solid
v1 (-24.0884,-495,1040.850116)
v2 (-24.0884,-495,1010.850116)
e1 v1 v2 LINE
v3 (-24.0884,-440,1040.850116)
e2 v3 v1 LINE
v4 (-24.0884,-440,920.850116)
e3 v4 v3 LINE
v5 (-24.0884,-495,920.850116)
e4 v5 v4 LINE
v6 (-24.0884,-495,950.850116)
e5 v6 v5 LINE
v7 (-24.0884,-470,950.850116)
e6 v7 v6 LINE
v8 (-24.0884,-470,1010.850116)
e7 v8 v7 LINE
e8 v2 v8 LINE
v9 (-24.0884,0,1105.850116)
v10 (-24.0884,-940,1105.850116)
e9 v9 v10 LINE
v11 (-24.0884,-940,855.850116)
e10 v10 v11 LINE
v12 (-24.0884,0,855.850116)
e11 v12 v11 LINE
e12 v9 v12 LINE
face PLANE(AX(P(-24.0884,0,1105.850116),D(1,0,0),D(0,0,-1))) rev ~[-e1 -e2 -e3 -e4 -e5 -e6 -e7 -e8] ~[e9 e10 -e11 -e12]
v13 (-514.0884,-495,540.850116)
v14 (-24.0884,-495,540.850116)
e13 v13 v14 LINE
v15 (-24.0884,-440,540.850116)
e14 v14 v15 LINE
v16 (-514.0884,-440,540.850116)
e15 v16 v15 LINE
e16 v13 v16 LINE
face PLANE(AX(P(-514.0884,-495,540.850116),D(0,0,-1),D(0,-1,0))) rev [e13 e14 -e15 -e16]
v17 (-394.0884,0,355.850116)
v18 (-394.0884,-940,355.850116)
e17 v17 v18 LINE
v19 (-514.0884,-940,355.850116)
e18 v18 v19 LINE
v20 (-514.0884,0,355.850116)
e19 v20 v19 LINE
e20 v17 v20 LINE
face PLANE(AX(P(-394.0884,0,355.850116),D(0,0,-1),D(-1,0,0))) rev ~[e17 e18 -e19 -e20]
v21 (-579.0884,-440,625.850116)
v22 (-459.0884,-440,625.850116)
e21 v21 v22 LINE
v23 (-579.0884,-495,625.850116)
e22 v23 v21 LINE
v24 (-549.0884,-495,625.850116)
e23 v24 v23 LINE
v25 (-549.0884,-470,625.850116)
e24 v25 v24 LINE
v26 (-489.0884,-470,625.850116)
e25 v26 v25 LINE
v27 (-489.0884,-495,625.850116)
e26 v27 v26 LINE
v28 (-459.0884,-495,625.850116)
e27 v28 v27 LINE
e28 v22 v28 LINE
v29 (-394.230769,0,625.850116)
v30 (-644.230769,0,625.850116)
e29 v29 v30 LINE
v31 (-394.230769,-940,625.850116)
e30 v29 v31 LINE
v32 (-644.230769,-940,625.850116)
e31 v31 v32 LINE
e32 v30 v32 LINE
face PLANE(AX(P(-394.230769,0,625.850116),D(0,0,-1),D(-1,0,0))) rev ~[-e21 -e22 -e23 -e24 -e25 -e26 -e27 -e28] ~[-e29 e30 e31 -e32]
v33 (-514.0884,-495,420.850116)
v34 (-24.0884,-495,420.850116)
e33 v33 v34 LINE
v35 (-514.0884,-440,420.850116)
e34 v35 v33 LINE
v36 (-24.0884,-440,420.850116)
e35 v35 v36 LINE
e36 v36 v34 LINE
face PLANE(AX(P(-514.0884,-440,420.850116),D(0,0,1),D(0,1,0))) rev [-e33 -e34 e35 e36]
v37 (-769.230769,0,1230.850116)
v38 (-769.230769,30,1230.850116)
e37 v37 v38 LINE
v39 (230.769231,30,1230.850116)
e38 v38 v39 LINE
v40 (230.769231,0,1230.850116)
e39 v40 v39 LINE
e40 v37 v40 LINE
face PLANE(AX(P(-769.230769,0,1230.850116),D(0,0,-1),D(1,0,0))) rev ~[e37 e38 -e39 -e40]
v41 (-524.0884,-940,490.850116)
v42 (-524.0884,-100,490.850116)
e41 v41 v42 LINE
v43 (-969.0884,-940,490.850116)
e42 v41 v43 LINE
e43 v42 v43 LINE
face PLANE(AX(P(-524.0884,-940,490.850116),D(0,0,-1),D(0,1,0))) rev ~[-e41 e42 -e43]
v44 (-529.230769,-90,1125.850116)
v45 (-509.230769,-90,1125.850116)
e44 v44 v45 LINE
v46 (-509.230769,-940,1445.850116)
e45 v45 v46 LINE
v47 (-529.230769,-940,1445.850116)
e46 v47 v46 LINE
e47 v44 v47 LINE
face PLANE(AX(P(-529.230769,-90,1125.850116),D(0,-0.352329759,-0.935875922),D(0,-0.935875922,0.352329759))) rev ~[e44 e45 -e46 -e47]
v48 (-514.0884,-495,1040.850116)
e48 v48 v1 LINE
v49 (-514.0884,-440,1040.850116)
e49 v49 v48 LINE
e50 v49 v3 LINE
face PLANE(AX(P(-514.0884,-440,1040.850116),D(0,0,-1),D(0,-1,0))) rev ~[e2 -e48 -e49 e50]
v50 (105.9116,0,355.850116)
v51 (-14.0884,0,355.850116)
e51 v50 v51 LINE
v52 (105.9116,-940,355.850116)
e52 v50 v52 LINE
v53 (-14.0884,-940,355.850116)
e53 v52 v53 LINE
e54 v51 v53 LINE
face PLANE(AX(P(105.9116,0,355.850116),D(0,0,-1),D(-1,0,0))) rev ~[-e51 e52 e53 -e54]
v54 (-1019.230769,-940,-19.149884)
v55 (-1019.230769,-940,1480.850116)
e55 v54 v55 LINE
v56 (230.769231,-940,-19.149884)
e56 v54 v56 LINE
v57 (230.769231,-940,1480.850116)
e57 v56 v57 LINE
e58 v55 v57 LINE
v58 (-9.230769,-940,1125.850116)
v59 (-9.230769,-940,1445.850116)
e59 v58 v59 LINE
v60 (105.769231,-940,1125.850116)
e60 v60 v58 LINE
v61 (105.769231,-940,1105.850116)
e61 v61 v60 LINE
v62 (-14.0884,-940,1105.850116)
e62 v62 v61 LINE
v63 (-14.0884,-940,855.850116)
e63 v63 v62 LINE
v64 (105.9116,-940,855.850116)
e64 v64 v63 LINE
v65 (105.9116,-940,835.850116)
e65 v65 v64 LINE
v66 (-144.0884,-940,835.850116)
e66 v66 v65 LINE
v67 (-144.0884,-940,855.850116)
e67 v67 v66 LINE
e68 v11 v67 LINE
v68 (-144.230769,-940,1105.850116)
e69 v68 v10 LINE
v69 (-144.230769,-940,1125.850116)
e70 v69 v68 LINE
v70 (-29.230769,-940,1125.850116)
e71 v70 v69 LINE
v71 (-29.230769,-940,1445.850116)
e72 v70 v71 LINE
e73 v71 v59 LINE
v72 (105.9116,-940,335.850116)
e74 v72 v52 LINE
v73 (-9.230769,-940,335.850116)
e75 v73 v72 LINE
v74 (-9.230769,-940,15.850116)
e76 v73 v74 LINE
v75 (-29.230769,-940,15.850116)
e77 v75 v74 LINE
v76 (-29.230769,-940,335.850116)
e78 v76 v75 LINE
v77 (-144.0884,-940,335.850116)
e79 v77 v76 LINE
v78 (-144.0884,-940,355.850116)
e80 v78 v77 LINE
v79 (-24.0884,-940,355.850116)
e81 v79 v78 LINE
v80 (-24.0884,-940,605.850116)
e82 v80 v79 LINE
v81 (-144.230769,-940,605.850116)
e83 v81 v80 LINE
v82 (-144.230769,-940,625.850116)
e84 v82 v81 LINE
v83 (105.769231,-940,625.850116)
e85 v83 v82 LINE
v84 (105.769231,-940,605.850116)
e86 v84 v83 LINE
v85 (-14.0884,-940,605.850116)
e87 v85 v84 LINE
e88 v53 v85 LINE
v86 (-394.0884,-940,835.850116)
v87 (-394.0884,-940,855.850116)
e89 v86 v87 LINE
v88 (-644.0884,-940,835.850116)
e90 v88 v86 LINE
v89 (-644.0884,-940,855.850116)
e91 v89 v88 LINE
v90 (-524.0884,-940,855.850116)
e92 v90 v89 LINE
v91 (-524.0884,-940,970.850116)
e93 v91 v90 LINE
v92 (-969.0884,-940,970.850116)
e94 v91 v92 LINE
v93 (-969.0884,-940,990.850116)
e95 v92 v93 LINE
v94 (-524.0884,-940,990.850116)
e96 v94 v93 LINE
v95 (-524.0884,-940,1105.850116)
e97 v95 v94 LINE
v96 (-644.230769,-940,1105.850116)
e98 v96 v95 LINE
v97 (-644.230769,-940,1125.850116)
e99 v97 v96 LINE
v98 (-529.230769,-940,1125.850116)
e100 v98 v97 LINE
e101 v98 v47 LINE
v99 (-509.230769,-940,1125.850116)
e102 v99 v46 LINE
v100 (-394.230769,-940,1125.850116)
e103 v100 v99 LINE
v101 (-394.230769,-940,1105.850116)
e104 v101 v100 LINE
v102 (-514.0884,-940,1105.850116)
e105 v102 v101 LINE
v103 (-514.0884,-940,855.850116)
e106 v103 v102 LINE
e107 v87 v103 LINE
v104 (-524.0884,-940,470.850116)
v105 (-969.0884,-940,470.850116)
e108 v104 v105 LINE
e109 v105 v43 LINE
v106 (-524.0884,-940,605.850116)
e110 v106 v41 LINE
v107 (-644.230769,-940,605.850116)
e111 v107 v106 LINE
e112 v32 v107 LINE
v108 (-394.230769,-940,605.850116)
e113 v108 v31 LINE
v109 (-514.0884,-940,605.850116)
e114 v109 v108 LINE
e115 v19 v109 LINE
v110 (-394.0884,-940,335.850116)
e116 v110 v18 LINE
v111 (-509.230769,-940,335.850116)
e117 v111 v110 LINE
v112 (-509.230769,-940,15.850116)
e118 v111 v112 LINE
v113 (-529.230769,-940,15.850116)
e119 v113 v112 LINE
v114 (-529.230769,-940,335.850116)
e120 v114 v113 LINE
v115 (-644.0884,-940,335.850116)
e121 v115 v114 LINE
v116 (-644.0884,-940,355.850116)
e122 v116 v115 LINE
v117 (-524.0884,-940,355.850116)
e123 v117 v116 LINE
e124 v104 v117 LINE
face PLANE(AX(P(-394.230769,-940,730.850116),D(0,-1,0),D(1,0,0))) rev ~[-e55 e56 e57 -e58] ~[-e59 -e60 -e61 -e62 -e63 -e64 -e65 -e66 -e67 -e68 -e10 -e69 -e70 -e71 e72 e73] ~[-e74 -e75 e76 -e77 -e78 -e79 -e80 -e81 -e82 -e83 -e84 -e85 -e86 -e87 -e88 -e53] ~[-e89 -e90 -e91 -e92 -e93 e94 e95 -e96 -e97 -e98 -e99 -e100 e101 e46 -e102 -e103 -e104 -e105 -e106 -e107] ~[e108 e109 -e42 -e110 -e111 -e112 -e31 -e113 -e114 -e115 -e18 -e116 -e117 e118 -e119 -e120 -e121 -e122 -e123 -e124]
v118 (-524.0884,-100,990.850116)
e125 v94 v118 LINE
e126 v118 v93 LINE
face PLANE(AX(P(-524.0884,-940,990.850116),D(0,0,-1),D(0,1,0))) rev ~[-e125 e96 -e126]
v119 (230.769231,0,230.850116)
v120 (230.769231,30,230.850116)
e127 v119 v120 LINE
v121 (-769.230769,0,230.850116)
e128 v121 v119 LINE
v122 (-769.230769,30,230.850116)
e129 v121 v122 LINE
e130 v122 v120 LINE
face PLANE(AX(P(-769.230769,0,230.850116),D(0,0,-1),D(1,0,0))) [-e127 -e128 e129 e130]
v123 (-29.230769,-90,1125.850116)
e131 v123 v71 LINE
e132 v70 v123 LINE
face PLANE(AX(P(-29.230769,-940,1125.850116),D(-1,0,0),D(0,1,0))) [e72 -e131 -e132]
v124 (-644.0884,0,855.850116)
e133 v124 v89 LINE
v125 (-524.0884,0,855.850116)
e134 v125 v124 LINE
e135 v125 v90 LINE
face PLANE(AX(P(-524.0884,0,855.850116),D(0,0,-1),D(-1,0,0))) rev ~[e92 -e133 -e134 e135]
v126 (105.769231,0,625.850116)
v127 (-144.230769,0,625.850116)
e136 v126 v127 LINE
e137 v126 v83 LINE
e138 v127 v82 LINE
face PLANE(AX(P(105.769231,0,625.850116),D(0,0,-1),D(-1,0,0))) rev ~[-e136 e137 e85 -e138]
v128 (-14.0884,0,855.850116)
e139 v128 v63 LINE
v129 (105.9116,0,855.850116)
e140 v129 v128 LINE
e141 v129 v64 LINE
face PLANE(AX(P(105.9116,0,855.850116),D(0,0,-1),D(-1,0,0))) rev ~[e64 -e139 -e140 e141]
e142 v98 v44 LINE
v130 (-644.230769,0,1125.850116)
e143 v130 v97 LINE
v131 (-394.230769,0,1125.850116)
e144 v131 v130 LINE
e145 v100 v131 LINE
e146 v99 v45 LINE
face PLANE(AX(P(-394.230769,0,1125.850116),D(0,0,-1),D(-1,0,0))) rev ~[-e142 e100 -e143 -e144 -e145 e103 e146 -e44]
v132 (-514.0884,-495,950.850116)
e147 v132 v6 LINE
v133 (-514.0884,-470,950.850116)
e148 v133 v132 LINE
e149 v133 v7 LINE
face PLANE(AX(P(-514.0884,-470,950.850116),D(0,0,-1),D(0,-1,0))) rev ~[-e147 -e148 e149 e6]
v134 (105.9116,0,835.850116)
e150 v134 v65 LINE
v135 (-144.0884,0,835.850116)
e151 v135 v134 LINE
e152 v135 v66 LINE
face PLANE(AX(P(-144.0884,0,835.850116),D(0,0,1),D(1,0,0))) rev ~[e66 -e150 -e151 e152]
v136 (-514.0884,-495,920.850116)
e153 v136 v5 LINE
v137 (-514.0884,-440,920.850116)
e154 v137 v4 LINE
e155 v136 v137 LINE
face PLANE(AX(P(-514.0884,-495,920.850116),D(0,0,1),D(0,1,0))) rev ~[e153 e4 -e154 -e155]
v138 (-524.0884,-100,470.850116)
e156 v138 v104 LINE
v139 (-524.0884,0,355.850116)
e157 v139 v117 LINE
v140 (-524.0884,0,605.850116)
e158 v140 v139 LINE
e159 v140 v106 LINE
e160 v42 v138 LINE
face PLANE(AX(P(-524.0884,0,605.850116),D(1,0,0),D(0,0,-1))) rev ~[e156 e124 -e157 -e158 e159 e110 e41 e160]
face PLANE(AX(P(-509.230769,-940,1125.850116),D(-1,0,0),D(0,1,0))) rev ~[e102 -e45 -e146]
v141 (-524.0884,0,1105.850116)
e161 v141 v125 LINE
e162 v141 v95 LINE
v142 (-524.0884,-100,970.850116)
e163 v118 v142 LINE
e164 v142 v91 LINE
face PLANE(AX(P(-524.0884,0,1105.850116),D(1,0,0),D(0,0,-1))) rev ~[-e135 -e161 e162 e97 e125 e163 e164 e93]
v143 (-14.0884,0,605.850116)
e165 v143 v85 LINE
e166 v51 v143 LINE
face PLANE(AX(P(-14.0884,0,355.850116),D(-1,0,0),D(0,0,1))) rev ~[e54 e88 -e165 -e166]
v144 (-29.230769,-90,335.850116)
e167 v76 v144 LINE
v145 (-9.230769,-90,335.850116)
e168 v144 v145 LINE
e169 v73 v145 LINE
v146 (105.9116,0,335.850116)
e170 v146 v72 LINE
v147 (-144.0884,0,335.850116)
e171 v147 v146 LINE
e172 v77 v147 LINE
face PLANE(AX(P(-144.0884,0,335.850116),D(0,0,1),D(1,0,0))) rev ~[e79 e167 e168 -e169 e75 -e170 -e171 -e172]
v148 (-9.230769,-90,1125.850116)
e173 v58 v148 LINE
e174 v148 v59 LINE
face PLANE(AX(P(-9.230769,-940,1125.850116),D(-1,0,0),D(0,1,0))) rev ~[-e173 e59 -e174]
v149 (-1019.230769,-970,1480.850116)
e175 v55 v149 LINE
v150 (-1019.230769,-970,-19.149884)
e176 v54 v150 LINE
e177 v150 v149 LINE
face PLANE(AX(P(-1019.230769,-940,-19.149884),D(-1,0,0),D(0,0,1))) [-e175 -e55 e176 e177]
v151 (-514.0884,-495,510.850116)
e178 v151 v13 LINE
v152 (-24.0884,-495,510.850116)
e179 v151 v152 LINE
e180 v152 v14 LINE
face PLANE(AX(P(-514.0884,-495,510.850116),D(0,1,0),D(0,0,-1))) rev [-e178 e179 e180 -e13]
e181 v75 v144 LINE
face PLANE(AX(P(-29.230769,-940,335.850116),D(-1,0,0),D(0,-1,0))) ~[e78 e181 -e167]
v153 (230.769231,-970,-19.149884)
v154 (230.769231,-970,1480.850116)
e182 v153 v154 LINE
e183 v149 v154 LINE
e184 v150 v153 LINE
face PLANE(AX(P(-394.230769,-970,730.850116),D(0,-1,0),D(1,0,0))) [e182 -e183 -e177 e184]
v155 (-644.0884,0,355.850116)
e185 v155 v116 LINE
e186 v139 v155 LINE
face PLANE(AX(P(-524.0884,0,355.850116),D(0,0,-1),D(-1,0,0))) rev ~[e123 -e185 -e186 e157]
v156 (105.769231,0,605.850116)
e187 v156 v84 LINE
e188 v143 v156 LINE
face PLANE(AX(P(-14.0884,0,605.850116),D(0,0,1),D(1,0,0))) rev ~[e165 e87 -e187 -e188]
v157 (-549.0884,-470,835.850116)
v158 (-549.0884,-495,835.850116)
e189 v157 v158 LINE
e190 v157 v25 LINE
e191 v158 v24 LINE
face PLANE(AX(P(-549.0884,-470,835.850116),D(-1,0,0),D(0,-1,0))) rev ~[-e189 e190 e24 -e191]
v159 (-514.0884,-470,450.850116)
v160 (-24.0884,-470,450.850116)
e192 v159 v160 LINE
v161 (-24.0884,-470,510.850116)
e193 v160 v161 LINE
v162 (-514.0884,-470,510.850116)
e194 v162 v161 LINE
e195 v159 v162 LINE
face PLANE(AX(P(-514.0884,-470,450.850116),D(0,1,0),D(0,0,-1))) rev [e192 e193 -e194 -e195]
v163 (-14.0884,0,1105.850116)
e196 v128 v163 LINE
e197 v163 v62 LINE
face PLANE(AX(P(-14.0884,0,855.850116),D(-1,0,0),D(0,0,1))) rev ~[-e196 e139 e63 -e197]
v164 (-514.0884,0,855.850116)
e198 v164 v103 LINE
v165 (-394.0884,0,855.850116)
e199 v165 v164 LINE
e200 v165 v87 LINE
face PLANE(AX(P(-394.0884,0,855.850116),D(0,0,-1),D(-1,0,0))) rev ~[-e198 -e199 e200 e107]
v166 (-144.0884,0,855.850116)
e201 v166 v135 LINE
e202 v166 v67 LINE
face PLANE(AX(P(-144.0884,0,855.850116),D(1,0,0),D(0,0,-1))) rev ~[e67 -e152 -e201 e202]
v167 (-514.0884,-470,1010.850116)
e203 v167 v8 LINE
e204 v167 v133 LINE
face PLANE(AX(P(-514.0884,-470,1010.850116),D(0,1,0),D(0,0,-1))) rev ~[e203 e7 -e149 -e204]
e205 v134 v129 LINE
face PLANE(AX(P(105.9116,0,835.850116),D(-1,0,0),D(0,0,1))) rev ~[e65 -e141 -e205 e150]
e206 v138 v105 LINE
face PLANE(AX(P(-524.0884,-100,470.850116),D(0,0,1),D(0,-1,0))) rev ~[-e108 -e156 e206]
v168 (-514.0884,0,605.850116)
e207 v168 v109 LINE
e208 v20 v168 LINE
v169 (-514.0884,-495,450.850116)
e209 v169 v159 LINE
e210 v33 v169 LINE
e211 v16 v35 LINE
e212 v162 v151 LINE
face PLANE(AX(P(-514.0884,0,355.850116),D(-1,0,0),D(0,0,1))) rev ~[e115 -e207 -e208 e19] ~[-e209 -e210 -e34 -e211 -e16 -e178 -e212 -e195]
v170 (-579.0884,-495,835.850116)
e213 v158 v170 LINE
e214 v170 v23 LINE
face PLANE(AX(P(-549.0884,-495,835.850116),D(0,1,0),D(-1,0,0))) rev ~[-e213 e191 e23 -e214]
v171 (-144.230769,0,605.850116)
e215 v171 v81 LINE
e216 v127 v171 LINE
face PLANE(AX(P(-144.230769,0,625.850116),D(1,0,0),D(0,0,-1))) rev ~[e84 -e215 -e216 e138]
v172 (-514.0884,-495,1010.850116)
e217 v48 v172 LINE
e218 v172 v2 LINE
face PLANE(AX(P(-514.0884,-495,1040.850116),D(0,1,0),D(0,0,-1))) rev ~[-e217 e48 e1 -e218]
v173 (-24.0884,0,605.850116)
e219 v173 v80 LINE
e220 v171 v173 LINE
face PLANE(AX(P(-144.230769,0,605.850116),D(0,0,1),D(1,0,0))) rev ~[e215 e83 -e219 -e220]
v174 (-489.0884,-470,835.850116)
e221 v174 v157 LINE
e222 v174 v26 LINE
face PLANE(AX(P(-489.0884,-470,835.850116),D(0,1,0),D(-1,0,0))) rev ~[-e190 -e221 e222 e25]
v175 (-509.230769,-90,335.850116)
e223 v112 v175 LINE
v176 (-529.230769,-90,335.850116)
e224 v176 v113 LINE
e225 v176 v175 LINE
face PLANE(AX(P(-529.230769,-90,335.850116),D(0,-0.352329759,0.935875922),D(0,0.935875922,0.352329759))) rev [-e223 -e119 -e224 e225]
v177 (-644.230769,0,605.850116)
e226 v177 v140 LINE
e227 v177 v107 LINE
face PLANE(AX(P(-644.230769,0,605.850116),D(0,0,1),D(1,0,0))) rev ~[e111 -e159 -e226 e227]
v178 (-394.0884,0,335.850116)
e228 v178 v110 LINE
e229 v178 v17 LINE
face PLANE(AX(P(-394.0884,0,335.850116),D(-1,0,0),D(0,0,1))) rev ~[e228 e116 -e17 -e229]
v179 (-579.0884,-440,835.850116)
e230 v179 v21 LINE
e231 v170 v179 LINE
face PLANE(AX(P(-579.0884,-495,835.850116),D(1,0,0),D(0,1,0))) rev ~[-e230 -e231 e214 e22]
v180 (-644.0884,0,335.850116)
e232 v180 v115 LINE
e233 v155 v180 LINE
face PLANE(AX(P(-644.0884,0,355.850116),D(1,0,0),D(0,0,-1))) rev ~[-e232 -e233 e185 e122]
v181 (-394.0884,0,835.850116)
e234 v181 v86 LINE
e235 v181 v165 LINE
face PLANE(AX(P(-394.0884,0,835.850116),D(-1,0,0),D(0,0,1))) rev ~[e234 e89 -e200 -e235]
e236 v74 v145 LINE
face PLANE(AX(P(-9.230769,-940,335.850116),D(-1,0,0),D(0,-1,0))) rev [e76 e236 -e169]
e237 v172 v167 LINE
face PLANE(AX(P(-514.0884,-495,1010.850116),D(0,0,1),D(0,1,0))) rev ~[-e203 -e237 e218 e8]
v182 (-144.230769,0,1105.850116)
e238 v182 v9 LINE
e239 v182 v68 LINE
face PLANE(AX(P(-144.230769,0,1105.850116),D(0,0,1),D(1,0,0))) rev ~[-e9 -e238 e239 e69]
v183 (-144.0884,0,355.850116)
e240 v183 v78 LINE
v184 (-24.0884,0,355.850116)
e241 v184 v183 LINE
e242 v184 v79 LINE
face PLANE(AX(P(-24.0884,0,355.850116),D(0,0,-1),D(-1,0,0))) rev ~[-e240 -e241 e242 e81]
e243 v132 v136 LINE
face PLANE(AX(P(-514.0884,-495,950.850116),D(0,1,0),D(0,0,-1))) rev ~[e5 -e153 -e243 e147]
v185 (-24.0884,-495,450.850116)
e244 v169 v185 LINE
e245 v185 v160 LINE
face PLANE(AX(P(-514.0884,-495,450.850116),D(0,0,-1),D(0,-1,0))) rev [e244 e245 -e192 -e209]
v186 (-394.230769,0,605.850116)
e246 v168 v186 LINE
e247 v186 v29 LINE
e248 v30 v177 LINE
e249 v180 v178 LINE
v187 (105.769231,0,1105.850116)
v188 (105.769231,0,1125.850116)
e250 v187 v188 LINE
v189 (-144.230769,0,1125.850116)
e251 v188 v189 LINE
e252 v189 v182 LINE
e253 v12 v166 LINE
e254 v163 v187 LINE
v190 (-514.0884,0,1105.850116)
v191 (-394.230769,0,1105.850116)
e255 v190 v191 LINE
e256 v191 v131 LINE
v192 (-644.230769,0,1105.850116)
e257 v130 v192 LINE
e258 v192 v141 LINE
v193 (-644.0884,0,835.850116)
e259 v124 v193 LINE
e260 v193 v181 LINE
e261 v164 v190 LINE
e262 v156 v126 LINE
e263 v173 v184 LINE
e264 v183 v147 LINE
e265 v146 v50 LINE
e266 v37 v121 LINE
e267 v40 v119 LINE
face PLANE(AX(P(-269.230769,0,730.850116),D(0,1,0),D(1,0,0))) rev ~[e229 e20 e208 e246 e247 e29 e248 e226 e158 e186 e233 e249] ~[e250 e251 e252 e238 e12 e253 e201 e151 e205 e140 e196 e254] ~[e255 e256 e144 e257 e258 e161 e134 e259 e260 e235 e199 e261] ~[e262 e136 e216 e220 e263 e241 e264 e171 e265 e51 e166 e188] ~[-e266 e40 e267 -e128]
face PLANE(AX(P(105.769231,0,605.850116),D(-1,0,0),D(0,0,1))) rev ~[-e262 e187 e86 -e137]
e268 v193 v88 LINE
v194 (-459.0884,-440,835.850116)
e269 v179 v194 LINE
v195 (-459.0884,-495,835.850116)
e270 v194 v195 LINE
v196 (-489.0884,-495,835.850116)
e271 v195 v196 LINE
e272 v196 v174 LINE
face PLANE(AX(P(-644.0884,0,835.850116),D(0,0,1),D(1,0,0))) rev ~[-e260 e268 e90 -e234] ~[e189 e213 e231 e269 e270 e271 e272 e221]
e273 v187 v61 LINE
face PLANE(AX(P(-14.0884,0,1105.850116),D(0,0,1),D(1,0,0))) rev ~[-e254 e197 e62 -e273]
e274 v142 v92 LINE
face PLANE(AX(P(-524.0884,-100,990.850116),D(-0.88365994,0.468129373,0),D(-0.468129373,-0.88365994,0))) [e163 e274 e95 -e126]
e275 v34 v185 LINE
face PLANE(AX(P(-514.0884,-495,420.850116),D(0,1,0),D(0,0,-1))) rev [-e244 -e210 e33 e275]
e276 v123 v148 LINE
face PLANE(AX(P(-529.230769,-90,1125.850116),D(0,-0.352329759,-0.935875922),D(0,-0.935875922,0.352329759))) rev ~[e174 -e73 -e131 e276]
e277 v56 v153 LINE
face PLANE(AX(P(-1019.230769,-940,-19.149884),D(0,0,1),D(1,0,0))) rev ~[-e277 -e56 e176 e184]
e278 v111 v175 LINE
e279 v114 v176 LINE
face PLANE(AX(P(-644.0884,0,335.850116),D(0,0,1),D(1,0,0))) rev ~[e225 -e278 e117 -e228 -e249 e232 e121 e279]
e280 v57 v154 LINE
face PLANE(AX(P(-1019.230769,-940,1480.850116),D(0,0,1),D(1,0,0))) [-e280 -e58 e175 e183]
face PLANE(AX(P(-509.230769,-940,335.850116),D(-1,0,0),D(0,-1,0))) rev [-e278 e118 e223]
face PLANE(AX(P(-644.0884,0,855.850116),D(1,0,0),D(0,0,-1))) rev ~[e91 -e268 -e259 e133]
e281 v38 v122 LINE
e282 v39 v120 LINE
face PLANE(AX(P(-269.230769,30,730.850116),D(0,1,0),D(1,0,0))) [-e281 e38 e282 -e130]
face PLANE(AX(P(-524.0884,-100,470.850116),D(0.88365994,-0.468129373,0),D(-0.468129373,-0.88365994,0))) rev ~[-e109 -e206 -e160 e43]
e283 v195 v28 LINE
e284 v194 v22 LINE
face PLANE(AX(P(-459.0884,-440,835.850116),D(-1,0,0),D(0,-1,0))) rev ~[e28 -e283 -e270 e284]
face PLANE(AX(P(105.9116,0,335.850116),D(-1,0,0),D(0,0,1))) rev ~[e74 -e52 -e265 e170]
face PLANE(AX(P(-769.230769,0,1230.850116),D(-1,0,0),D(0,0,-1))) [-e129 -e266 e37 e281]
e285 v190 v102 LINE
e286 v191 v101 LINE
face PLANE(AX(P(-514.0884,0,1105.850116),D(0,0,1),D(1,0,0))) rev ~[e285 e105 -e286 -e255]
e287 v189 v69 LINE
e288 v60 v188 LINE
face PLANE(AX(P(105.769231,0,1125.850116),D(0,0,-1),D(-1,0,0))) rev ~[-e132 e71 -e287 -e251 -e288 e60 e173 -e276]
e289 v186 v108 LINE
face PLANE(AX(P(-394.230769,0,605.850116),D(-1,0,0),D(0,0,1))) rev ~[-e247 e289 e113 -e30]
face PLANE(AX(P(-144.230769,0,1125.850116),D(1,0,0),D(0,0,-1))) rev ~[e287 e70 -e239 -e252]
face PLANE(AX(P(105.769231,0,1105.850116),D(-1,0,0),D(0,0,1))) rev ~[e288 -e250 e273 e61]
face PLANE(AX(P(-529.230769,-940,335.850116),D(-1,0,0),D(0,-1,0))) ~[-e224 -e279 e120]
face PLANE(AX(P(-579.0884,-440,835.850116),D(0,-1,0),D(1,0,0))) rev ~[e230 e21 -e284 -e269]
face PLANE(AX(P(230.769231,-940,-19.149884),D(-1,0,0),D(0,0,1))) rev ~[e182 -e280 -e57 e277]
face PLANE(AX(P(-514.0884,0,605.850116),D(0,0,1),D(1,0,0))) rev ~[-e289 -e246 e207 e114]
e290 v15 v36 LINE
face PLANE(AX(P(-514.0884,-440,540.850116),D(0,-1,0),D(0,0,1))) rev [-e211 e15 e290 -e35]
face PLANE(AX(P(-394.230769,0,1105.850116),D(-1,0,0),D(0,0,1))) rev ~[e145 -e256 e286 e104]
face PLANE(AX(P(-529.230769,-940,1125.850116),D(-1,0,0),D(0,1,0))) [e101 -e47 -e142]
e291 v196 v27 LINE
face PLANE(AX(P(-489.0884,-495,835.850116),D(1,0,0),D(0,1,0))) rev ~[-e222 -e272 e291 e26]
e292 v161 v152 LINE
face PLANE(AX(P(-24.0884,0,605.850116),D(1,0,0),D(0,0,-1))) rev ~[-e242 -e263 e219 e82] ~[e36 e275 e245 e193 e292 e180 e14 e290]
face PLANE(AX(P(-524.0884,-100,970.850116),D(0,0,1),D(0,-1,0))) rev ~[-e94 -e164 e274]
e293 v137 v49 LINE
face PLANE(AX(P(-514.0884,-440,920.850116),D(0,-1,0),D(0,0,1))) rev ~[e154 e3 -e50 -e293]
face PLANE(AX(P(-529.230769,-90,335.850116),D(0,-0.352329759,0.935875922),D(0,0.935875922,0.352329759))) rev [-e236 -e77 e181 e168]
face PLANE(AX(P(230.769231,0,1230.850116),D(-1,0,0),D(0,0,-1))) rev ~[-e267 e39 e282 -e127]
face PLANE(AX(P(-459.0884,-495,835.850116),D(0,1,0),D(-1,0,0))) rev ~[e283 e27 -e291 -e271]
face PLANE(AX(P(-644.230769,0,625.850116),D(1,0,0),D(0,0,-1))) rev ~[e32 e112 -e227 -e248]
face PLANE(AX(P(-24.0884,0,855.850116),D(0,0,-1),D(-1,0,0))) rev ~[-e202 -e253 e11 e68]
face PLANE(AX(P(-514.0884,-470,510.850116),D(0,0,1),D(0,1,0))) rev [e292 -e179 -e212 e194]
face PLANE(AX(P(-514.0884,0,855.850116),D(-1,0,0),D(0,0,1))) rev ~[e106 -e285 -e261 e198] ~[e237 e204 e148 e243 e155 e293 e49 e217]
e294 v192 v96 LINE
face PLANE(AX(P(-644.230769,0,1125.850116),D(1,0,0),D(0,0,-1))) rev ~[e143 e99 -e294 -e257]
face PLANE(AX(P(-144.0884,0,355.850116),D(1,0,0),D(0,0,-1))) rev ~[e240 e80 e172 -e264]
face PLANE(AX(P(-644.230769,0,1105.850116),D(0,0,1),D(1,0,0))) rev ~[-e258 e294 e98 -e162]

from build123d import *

# Parameters (mm, degrees)
SKETCH5_W           = 1000
SKETCH5_H           = 1000
BOSS_EXTRUDE1_DEPTH = 30
BOSS_EXTRUDE2_DEPTH = 940
SKETCH7_W           = 1250
SKETCH7_H           = 1500
BOSS_EXTRUDE3_DEPTH = 30
BOSS_EXTRUDE4_DEPTH = 445
CUT_EXTRUDE2_DEPTH  = 30
CUT_EXTRUDE3_DEPTH  = 30
SKETCH12_W          = 20
SKETCH12_H          = 850
BOSS_EXTRUDE5_DEPTH = 320
CUT_EXTRUDE4_DEPTH  = 700
BOSS_EXTRUDE6_DEPTH = 210
BOSS_EXTRUDE7_DEPTH = 490


with BuildPart() as part:
    # Sketch5 → Boss-Extrude1 (new body)
    with BuildSketch(Plane(origin=(0, 0, 0), x_dir=(1, 0, 0), z_dir=(0, 1, 0))):
        with Locations((-269.230769231, -730.850115694)):
            Rectangle(SKETCH5_W, SKETCH5_H)
    extrude(amount=BOSS_EXTRUDE1_DEPTH)

    # Sketch6 → Boss-Extrude2 (add)
    with BuildSketch(Plane.XZ):
        Polygon((-644.230769231, 625.850115694), (-644.230769231, 605.850115694), (-524.088400017, 605.850115694), (-524.088400017, 355.850115694), (-644.088400017, 355.850115694), (-644.088400017, 335.850115694), (-394.088400017, 335.850115694), (-394.088400017, 355.850115694), (-514.088400017, 355.850115694), (-514.088400017, 605.850115694), (-394.230769231, 605.850115694), (-394.230769231, 625.850115694), align=None)
        Polygon((-644.230769231, 1125.850115694), (-644.230769231, 1105.850115694), (-524.088400017, 1105.850115694), (-524.088400017, 855.850115694), (-644.088400017, 855.850115694), (-644.088400017, 835.850115694), (-394.088400017, 835.850115694), (-394.088400017, 855.850115694), (-514.088400017, 855.850115694), (-514.088400017, 1105.850115694), (-394.230769231, 1105.850115694), (-394.230769231, 1125.850115694), align=None)
        Polygon((-144.230769231, 1125.850115694), (-144.230769231, 1105.850115694), (-24.088400017, 1105.850115694), (-24.088400017, 855.850115694), (-144.088400017, 855.850115694), (-144.088400017, 835.850115694), (105.911599983, 835.850115694), (105.911599983, 855.850115694), (-14.088400017, 855.850115694), (-14.088400017, 1105.850115694), (105.769230769, 1105.850115694), (105.769230769, 1125.850115694), align=None)
        Polygon((-144.230769231, 625.850115694), (-144.230769231, 605.850115694), (-24.088400017, 605.850115694), (-24.088400017, 355.850115694), (-144.088400017, 355.850115694), (-144.088400017, 335.850115694), (105.911599983, 335.850115694), (105.911599983, 355.850115694), (-14.088400017, 355.850115694), (-14.088400017, 605.850115694), (105.769230769, 605.850115694), (105.769230769, 625.850115694), align=None)
    extrude(amount=BOSS_EXTRUDE2_DEPTH)

    # Sketch7 → Boss-Extrude3 (add)
    with BuildSketch(Plane.XZ.offset(940)):
        with Locations((-394.230769231, 730.850115694)):
            Rectangle(SKETCH7_W, SKETCH7_H)
    extrude(amount=BOSS_EXTRUDE3_DEPTH)

    # Sketch8 → Boss-Extrude4 (add)
    with BuildSketch(Plane.ZY.offset(524.088400017)):
        Polygon((480.850115694, -100), (470.850115694, -100), (470.850115694, -940), (490.850115694, -940), (490.850115694, -100), align=None)
        Polygon((975.850115694, -100), (970.850115694, -100), (970.850115694, -940), (990.850115694, -940), (990.850115694, -100), align=None)
    extrude(amount=BOSS_EXTRUDE4_DEPTH)

    # Sketch10 → Cut-Extrude2 (cut)
    with BuildSketch(Plane(origin=(0, 0, 470.850115694), x_dir=(-1, 0, 0), z_dir=(0, 0, -1))):
        Polygon((524.088400017, -100), (969.088400017, -940), (969.088400017, -100), align=None)
    extrude(amount=-CUT_EXTRUDE2_DEPTH, mode=Mode.SUBTRACT)

    # Sketch11 → Cut-Extrude3 (cut)
    with BuildSketch(Plane.XY.offset(990.850115694)):
        Polygon((-969.088400017, -100), (-524.088400017, -100), (-969.088400017, -940), align=None)
    extrude(amount=-CUT_EXTRUDE3_DEPTH, mode=Mode.SUBTRACT)

    # Sketch12 → Boss-Extrude5 (add)
    with BuildSketch(Plane.XY.offset(1125.850115694)):
        with Locations((-519.230769231, -515)):
            Rectangle(SKETCH12_W, SKETCH12_H)
        with Locations((-19.230769231, -515)):
            Rectangle(SKETCH12_W, SKETCH12_H)
    boss_extrude5 = extrude(amount=BOSS_EXTRUDE5_DEPTH)

    # Sketch13 → Cut-Extrude4 (cut)
    with BuildSketch(Plane.ZY.offset(529.230769231)):
        Polygon((1125.850115694, -90), (1445.850115694, -940), (1445.850115694, -90), align=None)
    cut_extrude4 = extrude(amount=-CUT_EXTRUDE4_DEPTH, mode=Mode.SUBTRACT)

    # Mirror1: Boss-Extrude5 across plane
    add(boss_extrude5.mirror(Plane(origin=(0, 0, 730.850115694), x_dir=(1, 0, 0), z_dir=(0, 0, -1))))

    # Mirror2: Cut-Extrude4 across plane
    add(cut_extrude4.mirror(Plane(origin=(0, 0, 730.850115694), x_dir=(1, 0, 0), z_dir=(0, 0, -1))), mode=Mode.SUBTRACT)

    # Sketch15 → Boss-Extrude6 (add)
    with BuildSketch(Plane(origin=(0, 0, 835.850115694), x_dir=(-1, 0, 0), z_dir=(0, 0, -1))):
        Polygon((549.088400017, -495), (579.088400017, -495), (579.088400017, -440), (459.088400017, -440), (459.088400017, -495), (489.088400017, -495), (489.088400017, -470), (549.088400017, -470), align=None)
    extrude(amount=BOSS_EXTRUDE6_DEPTH)

    # Sketch18 → Boss-Extrude7 (add)
    with BuildSketch(Plane(origin=(-514.088400017, 0, 0), x_dir=(0, 0, -1), z_dir=(1, 0, 0))):
        Polygon((-950.850115694, -495), (-920.850115694, -495), (-920.850115694, -440), (-1040.850115694, -440), (-1040.850115694, -495), (-1010.850115694, -495), (-1010.850115694, -470), (-950.850115694, -470), align=None)
    boss_extrude7 = extrude(amount=BOSS_EXTRUDE7_DEPTH)

    # Mirror3: Boss-Extrude7 across plane
    add(boss_extrude7.mirror(Plane(origin=(0, 0, 730.850115694), x_dir=(1, 0, 0), z_dir=(0, 0, -1))))


solid = part.part
